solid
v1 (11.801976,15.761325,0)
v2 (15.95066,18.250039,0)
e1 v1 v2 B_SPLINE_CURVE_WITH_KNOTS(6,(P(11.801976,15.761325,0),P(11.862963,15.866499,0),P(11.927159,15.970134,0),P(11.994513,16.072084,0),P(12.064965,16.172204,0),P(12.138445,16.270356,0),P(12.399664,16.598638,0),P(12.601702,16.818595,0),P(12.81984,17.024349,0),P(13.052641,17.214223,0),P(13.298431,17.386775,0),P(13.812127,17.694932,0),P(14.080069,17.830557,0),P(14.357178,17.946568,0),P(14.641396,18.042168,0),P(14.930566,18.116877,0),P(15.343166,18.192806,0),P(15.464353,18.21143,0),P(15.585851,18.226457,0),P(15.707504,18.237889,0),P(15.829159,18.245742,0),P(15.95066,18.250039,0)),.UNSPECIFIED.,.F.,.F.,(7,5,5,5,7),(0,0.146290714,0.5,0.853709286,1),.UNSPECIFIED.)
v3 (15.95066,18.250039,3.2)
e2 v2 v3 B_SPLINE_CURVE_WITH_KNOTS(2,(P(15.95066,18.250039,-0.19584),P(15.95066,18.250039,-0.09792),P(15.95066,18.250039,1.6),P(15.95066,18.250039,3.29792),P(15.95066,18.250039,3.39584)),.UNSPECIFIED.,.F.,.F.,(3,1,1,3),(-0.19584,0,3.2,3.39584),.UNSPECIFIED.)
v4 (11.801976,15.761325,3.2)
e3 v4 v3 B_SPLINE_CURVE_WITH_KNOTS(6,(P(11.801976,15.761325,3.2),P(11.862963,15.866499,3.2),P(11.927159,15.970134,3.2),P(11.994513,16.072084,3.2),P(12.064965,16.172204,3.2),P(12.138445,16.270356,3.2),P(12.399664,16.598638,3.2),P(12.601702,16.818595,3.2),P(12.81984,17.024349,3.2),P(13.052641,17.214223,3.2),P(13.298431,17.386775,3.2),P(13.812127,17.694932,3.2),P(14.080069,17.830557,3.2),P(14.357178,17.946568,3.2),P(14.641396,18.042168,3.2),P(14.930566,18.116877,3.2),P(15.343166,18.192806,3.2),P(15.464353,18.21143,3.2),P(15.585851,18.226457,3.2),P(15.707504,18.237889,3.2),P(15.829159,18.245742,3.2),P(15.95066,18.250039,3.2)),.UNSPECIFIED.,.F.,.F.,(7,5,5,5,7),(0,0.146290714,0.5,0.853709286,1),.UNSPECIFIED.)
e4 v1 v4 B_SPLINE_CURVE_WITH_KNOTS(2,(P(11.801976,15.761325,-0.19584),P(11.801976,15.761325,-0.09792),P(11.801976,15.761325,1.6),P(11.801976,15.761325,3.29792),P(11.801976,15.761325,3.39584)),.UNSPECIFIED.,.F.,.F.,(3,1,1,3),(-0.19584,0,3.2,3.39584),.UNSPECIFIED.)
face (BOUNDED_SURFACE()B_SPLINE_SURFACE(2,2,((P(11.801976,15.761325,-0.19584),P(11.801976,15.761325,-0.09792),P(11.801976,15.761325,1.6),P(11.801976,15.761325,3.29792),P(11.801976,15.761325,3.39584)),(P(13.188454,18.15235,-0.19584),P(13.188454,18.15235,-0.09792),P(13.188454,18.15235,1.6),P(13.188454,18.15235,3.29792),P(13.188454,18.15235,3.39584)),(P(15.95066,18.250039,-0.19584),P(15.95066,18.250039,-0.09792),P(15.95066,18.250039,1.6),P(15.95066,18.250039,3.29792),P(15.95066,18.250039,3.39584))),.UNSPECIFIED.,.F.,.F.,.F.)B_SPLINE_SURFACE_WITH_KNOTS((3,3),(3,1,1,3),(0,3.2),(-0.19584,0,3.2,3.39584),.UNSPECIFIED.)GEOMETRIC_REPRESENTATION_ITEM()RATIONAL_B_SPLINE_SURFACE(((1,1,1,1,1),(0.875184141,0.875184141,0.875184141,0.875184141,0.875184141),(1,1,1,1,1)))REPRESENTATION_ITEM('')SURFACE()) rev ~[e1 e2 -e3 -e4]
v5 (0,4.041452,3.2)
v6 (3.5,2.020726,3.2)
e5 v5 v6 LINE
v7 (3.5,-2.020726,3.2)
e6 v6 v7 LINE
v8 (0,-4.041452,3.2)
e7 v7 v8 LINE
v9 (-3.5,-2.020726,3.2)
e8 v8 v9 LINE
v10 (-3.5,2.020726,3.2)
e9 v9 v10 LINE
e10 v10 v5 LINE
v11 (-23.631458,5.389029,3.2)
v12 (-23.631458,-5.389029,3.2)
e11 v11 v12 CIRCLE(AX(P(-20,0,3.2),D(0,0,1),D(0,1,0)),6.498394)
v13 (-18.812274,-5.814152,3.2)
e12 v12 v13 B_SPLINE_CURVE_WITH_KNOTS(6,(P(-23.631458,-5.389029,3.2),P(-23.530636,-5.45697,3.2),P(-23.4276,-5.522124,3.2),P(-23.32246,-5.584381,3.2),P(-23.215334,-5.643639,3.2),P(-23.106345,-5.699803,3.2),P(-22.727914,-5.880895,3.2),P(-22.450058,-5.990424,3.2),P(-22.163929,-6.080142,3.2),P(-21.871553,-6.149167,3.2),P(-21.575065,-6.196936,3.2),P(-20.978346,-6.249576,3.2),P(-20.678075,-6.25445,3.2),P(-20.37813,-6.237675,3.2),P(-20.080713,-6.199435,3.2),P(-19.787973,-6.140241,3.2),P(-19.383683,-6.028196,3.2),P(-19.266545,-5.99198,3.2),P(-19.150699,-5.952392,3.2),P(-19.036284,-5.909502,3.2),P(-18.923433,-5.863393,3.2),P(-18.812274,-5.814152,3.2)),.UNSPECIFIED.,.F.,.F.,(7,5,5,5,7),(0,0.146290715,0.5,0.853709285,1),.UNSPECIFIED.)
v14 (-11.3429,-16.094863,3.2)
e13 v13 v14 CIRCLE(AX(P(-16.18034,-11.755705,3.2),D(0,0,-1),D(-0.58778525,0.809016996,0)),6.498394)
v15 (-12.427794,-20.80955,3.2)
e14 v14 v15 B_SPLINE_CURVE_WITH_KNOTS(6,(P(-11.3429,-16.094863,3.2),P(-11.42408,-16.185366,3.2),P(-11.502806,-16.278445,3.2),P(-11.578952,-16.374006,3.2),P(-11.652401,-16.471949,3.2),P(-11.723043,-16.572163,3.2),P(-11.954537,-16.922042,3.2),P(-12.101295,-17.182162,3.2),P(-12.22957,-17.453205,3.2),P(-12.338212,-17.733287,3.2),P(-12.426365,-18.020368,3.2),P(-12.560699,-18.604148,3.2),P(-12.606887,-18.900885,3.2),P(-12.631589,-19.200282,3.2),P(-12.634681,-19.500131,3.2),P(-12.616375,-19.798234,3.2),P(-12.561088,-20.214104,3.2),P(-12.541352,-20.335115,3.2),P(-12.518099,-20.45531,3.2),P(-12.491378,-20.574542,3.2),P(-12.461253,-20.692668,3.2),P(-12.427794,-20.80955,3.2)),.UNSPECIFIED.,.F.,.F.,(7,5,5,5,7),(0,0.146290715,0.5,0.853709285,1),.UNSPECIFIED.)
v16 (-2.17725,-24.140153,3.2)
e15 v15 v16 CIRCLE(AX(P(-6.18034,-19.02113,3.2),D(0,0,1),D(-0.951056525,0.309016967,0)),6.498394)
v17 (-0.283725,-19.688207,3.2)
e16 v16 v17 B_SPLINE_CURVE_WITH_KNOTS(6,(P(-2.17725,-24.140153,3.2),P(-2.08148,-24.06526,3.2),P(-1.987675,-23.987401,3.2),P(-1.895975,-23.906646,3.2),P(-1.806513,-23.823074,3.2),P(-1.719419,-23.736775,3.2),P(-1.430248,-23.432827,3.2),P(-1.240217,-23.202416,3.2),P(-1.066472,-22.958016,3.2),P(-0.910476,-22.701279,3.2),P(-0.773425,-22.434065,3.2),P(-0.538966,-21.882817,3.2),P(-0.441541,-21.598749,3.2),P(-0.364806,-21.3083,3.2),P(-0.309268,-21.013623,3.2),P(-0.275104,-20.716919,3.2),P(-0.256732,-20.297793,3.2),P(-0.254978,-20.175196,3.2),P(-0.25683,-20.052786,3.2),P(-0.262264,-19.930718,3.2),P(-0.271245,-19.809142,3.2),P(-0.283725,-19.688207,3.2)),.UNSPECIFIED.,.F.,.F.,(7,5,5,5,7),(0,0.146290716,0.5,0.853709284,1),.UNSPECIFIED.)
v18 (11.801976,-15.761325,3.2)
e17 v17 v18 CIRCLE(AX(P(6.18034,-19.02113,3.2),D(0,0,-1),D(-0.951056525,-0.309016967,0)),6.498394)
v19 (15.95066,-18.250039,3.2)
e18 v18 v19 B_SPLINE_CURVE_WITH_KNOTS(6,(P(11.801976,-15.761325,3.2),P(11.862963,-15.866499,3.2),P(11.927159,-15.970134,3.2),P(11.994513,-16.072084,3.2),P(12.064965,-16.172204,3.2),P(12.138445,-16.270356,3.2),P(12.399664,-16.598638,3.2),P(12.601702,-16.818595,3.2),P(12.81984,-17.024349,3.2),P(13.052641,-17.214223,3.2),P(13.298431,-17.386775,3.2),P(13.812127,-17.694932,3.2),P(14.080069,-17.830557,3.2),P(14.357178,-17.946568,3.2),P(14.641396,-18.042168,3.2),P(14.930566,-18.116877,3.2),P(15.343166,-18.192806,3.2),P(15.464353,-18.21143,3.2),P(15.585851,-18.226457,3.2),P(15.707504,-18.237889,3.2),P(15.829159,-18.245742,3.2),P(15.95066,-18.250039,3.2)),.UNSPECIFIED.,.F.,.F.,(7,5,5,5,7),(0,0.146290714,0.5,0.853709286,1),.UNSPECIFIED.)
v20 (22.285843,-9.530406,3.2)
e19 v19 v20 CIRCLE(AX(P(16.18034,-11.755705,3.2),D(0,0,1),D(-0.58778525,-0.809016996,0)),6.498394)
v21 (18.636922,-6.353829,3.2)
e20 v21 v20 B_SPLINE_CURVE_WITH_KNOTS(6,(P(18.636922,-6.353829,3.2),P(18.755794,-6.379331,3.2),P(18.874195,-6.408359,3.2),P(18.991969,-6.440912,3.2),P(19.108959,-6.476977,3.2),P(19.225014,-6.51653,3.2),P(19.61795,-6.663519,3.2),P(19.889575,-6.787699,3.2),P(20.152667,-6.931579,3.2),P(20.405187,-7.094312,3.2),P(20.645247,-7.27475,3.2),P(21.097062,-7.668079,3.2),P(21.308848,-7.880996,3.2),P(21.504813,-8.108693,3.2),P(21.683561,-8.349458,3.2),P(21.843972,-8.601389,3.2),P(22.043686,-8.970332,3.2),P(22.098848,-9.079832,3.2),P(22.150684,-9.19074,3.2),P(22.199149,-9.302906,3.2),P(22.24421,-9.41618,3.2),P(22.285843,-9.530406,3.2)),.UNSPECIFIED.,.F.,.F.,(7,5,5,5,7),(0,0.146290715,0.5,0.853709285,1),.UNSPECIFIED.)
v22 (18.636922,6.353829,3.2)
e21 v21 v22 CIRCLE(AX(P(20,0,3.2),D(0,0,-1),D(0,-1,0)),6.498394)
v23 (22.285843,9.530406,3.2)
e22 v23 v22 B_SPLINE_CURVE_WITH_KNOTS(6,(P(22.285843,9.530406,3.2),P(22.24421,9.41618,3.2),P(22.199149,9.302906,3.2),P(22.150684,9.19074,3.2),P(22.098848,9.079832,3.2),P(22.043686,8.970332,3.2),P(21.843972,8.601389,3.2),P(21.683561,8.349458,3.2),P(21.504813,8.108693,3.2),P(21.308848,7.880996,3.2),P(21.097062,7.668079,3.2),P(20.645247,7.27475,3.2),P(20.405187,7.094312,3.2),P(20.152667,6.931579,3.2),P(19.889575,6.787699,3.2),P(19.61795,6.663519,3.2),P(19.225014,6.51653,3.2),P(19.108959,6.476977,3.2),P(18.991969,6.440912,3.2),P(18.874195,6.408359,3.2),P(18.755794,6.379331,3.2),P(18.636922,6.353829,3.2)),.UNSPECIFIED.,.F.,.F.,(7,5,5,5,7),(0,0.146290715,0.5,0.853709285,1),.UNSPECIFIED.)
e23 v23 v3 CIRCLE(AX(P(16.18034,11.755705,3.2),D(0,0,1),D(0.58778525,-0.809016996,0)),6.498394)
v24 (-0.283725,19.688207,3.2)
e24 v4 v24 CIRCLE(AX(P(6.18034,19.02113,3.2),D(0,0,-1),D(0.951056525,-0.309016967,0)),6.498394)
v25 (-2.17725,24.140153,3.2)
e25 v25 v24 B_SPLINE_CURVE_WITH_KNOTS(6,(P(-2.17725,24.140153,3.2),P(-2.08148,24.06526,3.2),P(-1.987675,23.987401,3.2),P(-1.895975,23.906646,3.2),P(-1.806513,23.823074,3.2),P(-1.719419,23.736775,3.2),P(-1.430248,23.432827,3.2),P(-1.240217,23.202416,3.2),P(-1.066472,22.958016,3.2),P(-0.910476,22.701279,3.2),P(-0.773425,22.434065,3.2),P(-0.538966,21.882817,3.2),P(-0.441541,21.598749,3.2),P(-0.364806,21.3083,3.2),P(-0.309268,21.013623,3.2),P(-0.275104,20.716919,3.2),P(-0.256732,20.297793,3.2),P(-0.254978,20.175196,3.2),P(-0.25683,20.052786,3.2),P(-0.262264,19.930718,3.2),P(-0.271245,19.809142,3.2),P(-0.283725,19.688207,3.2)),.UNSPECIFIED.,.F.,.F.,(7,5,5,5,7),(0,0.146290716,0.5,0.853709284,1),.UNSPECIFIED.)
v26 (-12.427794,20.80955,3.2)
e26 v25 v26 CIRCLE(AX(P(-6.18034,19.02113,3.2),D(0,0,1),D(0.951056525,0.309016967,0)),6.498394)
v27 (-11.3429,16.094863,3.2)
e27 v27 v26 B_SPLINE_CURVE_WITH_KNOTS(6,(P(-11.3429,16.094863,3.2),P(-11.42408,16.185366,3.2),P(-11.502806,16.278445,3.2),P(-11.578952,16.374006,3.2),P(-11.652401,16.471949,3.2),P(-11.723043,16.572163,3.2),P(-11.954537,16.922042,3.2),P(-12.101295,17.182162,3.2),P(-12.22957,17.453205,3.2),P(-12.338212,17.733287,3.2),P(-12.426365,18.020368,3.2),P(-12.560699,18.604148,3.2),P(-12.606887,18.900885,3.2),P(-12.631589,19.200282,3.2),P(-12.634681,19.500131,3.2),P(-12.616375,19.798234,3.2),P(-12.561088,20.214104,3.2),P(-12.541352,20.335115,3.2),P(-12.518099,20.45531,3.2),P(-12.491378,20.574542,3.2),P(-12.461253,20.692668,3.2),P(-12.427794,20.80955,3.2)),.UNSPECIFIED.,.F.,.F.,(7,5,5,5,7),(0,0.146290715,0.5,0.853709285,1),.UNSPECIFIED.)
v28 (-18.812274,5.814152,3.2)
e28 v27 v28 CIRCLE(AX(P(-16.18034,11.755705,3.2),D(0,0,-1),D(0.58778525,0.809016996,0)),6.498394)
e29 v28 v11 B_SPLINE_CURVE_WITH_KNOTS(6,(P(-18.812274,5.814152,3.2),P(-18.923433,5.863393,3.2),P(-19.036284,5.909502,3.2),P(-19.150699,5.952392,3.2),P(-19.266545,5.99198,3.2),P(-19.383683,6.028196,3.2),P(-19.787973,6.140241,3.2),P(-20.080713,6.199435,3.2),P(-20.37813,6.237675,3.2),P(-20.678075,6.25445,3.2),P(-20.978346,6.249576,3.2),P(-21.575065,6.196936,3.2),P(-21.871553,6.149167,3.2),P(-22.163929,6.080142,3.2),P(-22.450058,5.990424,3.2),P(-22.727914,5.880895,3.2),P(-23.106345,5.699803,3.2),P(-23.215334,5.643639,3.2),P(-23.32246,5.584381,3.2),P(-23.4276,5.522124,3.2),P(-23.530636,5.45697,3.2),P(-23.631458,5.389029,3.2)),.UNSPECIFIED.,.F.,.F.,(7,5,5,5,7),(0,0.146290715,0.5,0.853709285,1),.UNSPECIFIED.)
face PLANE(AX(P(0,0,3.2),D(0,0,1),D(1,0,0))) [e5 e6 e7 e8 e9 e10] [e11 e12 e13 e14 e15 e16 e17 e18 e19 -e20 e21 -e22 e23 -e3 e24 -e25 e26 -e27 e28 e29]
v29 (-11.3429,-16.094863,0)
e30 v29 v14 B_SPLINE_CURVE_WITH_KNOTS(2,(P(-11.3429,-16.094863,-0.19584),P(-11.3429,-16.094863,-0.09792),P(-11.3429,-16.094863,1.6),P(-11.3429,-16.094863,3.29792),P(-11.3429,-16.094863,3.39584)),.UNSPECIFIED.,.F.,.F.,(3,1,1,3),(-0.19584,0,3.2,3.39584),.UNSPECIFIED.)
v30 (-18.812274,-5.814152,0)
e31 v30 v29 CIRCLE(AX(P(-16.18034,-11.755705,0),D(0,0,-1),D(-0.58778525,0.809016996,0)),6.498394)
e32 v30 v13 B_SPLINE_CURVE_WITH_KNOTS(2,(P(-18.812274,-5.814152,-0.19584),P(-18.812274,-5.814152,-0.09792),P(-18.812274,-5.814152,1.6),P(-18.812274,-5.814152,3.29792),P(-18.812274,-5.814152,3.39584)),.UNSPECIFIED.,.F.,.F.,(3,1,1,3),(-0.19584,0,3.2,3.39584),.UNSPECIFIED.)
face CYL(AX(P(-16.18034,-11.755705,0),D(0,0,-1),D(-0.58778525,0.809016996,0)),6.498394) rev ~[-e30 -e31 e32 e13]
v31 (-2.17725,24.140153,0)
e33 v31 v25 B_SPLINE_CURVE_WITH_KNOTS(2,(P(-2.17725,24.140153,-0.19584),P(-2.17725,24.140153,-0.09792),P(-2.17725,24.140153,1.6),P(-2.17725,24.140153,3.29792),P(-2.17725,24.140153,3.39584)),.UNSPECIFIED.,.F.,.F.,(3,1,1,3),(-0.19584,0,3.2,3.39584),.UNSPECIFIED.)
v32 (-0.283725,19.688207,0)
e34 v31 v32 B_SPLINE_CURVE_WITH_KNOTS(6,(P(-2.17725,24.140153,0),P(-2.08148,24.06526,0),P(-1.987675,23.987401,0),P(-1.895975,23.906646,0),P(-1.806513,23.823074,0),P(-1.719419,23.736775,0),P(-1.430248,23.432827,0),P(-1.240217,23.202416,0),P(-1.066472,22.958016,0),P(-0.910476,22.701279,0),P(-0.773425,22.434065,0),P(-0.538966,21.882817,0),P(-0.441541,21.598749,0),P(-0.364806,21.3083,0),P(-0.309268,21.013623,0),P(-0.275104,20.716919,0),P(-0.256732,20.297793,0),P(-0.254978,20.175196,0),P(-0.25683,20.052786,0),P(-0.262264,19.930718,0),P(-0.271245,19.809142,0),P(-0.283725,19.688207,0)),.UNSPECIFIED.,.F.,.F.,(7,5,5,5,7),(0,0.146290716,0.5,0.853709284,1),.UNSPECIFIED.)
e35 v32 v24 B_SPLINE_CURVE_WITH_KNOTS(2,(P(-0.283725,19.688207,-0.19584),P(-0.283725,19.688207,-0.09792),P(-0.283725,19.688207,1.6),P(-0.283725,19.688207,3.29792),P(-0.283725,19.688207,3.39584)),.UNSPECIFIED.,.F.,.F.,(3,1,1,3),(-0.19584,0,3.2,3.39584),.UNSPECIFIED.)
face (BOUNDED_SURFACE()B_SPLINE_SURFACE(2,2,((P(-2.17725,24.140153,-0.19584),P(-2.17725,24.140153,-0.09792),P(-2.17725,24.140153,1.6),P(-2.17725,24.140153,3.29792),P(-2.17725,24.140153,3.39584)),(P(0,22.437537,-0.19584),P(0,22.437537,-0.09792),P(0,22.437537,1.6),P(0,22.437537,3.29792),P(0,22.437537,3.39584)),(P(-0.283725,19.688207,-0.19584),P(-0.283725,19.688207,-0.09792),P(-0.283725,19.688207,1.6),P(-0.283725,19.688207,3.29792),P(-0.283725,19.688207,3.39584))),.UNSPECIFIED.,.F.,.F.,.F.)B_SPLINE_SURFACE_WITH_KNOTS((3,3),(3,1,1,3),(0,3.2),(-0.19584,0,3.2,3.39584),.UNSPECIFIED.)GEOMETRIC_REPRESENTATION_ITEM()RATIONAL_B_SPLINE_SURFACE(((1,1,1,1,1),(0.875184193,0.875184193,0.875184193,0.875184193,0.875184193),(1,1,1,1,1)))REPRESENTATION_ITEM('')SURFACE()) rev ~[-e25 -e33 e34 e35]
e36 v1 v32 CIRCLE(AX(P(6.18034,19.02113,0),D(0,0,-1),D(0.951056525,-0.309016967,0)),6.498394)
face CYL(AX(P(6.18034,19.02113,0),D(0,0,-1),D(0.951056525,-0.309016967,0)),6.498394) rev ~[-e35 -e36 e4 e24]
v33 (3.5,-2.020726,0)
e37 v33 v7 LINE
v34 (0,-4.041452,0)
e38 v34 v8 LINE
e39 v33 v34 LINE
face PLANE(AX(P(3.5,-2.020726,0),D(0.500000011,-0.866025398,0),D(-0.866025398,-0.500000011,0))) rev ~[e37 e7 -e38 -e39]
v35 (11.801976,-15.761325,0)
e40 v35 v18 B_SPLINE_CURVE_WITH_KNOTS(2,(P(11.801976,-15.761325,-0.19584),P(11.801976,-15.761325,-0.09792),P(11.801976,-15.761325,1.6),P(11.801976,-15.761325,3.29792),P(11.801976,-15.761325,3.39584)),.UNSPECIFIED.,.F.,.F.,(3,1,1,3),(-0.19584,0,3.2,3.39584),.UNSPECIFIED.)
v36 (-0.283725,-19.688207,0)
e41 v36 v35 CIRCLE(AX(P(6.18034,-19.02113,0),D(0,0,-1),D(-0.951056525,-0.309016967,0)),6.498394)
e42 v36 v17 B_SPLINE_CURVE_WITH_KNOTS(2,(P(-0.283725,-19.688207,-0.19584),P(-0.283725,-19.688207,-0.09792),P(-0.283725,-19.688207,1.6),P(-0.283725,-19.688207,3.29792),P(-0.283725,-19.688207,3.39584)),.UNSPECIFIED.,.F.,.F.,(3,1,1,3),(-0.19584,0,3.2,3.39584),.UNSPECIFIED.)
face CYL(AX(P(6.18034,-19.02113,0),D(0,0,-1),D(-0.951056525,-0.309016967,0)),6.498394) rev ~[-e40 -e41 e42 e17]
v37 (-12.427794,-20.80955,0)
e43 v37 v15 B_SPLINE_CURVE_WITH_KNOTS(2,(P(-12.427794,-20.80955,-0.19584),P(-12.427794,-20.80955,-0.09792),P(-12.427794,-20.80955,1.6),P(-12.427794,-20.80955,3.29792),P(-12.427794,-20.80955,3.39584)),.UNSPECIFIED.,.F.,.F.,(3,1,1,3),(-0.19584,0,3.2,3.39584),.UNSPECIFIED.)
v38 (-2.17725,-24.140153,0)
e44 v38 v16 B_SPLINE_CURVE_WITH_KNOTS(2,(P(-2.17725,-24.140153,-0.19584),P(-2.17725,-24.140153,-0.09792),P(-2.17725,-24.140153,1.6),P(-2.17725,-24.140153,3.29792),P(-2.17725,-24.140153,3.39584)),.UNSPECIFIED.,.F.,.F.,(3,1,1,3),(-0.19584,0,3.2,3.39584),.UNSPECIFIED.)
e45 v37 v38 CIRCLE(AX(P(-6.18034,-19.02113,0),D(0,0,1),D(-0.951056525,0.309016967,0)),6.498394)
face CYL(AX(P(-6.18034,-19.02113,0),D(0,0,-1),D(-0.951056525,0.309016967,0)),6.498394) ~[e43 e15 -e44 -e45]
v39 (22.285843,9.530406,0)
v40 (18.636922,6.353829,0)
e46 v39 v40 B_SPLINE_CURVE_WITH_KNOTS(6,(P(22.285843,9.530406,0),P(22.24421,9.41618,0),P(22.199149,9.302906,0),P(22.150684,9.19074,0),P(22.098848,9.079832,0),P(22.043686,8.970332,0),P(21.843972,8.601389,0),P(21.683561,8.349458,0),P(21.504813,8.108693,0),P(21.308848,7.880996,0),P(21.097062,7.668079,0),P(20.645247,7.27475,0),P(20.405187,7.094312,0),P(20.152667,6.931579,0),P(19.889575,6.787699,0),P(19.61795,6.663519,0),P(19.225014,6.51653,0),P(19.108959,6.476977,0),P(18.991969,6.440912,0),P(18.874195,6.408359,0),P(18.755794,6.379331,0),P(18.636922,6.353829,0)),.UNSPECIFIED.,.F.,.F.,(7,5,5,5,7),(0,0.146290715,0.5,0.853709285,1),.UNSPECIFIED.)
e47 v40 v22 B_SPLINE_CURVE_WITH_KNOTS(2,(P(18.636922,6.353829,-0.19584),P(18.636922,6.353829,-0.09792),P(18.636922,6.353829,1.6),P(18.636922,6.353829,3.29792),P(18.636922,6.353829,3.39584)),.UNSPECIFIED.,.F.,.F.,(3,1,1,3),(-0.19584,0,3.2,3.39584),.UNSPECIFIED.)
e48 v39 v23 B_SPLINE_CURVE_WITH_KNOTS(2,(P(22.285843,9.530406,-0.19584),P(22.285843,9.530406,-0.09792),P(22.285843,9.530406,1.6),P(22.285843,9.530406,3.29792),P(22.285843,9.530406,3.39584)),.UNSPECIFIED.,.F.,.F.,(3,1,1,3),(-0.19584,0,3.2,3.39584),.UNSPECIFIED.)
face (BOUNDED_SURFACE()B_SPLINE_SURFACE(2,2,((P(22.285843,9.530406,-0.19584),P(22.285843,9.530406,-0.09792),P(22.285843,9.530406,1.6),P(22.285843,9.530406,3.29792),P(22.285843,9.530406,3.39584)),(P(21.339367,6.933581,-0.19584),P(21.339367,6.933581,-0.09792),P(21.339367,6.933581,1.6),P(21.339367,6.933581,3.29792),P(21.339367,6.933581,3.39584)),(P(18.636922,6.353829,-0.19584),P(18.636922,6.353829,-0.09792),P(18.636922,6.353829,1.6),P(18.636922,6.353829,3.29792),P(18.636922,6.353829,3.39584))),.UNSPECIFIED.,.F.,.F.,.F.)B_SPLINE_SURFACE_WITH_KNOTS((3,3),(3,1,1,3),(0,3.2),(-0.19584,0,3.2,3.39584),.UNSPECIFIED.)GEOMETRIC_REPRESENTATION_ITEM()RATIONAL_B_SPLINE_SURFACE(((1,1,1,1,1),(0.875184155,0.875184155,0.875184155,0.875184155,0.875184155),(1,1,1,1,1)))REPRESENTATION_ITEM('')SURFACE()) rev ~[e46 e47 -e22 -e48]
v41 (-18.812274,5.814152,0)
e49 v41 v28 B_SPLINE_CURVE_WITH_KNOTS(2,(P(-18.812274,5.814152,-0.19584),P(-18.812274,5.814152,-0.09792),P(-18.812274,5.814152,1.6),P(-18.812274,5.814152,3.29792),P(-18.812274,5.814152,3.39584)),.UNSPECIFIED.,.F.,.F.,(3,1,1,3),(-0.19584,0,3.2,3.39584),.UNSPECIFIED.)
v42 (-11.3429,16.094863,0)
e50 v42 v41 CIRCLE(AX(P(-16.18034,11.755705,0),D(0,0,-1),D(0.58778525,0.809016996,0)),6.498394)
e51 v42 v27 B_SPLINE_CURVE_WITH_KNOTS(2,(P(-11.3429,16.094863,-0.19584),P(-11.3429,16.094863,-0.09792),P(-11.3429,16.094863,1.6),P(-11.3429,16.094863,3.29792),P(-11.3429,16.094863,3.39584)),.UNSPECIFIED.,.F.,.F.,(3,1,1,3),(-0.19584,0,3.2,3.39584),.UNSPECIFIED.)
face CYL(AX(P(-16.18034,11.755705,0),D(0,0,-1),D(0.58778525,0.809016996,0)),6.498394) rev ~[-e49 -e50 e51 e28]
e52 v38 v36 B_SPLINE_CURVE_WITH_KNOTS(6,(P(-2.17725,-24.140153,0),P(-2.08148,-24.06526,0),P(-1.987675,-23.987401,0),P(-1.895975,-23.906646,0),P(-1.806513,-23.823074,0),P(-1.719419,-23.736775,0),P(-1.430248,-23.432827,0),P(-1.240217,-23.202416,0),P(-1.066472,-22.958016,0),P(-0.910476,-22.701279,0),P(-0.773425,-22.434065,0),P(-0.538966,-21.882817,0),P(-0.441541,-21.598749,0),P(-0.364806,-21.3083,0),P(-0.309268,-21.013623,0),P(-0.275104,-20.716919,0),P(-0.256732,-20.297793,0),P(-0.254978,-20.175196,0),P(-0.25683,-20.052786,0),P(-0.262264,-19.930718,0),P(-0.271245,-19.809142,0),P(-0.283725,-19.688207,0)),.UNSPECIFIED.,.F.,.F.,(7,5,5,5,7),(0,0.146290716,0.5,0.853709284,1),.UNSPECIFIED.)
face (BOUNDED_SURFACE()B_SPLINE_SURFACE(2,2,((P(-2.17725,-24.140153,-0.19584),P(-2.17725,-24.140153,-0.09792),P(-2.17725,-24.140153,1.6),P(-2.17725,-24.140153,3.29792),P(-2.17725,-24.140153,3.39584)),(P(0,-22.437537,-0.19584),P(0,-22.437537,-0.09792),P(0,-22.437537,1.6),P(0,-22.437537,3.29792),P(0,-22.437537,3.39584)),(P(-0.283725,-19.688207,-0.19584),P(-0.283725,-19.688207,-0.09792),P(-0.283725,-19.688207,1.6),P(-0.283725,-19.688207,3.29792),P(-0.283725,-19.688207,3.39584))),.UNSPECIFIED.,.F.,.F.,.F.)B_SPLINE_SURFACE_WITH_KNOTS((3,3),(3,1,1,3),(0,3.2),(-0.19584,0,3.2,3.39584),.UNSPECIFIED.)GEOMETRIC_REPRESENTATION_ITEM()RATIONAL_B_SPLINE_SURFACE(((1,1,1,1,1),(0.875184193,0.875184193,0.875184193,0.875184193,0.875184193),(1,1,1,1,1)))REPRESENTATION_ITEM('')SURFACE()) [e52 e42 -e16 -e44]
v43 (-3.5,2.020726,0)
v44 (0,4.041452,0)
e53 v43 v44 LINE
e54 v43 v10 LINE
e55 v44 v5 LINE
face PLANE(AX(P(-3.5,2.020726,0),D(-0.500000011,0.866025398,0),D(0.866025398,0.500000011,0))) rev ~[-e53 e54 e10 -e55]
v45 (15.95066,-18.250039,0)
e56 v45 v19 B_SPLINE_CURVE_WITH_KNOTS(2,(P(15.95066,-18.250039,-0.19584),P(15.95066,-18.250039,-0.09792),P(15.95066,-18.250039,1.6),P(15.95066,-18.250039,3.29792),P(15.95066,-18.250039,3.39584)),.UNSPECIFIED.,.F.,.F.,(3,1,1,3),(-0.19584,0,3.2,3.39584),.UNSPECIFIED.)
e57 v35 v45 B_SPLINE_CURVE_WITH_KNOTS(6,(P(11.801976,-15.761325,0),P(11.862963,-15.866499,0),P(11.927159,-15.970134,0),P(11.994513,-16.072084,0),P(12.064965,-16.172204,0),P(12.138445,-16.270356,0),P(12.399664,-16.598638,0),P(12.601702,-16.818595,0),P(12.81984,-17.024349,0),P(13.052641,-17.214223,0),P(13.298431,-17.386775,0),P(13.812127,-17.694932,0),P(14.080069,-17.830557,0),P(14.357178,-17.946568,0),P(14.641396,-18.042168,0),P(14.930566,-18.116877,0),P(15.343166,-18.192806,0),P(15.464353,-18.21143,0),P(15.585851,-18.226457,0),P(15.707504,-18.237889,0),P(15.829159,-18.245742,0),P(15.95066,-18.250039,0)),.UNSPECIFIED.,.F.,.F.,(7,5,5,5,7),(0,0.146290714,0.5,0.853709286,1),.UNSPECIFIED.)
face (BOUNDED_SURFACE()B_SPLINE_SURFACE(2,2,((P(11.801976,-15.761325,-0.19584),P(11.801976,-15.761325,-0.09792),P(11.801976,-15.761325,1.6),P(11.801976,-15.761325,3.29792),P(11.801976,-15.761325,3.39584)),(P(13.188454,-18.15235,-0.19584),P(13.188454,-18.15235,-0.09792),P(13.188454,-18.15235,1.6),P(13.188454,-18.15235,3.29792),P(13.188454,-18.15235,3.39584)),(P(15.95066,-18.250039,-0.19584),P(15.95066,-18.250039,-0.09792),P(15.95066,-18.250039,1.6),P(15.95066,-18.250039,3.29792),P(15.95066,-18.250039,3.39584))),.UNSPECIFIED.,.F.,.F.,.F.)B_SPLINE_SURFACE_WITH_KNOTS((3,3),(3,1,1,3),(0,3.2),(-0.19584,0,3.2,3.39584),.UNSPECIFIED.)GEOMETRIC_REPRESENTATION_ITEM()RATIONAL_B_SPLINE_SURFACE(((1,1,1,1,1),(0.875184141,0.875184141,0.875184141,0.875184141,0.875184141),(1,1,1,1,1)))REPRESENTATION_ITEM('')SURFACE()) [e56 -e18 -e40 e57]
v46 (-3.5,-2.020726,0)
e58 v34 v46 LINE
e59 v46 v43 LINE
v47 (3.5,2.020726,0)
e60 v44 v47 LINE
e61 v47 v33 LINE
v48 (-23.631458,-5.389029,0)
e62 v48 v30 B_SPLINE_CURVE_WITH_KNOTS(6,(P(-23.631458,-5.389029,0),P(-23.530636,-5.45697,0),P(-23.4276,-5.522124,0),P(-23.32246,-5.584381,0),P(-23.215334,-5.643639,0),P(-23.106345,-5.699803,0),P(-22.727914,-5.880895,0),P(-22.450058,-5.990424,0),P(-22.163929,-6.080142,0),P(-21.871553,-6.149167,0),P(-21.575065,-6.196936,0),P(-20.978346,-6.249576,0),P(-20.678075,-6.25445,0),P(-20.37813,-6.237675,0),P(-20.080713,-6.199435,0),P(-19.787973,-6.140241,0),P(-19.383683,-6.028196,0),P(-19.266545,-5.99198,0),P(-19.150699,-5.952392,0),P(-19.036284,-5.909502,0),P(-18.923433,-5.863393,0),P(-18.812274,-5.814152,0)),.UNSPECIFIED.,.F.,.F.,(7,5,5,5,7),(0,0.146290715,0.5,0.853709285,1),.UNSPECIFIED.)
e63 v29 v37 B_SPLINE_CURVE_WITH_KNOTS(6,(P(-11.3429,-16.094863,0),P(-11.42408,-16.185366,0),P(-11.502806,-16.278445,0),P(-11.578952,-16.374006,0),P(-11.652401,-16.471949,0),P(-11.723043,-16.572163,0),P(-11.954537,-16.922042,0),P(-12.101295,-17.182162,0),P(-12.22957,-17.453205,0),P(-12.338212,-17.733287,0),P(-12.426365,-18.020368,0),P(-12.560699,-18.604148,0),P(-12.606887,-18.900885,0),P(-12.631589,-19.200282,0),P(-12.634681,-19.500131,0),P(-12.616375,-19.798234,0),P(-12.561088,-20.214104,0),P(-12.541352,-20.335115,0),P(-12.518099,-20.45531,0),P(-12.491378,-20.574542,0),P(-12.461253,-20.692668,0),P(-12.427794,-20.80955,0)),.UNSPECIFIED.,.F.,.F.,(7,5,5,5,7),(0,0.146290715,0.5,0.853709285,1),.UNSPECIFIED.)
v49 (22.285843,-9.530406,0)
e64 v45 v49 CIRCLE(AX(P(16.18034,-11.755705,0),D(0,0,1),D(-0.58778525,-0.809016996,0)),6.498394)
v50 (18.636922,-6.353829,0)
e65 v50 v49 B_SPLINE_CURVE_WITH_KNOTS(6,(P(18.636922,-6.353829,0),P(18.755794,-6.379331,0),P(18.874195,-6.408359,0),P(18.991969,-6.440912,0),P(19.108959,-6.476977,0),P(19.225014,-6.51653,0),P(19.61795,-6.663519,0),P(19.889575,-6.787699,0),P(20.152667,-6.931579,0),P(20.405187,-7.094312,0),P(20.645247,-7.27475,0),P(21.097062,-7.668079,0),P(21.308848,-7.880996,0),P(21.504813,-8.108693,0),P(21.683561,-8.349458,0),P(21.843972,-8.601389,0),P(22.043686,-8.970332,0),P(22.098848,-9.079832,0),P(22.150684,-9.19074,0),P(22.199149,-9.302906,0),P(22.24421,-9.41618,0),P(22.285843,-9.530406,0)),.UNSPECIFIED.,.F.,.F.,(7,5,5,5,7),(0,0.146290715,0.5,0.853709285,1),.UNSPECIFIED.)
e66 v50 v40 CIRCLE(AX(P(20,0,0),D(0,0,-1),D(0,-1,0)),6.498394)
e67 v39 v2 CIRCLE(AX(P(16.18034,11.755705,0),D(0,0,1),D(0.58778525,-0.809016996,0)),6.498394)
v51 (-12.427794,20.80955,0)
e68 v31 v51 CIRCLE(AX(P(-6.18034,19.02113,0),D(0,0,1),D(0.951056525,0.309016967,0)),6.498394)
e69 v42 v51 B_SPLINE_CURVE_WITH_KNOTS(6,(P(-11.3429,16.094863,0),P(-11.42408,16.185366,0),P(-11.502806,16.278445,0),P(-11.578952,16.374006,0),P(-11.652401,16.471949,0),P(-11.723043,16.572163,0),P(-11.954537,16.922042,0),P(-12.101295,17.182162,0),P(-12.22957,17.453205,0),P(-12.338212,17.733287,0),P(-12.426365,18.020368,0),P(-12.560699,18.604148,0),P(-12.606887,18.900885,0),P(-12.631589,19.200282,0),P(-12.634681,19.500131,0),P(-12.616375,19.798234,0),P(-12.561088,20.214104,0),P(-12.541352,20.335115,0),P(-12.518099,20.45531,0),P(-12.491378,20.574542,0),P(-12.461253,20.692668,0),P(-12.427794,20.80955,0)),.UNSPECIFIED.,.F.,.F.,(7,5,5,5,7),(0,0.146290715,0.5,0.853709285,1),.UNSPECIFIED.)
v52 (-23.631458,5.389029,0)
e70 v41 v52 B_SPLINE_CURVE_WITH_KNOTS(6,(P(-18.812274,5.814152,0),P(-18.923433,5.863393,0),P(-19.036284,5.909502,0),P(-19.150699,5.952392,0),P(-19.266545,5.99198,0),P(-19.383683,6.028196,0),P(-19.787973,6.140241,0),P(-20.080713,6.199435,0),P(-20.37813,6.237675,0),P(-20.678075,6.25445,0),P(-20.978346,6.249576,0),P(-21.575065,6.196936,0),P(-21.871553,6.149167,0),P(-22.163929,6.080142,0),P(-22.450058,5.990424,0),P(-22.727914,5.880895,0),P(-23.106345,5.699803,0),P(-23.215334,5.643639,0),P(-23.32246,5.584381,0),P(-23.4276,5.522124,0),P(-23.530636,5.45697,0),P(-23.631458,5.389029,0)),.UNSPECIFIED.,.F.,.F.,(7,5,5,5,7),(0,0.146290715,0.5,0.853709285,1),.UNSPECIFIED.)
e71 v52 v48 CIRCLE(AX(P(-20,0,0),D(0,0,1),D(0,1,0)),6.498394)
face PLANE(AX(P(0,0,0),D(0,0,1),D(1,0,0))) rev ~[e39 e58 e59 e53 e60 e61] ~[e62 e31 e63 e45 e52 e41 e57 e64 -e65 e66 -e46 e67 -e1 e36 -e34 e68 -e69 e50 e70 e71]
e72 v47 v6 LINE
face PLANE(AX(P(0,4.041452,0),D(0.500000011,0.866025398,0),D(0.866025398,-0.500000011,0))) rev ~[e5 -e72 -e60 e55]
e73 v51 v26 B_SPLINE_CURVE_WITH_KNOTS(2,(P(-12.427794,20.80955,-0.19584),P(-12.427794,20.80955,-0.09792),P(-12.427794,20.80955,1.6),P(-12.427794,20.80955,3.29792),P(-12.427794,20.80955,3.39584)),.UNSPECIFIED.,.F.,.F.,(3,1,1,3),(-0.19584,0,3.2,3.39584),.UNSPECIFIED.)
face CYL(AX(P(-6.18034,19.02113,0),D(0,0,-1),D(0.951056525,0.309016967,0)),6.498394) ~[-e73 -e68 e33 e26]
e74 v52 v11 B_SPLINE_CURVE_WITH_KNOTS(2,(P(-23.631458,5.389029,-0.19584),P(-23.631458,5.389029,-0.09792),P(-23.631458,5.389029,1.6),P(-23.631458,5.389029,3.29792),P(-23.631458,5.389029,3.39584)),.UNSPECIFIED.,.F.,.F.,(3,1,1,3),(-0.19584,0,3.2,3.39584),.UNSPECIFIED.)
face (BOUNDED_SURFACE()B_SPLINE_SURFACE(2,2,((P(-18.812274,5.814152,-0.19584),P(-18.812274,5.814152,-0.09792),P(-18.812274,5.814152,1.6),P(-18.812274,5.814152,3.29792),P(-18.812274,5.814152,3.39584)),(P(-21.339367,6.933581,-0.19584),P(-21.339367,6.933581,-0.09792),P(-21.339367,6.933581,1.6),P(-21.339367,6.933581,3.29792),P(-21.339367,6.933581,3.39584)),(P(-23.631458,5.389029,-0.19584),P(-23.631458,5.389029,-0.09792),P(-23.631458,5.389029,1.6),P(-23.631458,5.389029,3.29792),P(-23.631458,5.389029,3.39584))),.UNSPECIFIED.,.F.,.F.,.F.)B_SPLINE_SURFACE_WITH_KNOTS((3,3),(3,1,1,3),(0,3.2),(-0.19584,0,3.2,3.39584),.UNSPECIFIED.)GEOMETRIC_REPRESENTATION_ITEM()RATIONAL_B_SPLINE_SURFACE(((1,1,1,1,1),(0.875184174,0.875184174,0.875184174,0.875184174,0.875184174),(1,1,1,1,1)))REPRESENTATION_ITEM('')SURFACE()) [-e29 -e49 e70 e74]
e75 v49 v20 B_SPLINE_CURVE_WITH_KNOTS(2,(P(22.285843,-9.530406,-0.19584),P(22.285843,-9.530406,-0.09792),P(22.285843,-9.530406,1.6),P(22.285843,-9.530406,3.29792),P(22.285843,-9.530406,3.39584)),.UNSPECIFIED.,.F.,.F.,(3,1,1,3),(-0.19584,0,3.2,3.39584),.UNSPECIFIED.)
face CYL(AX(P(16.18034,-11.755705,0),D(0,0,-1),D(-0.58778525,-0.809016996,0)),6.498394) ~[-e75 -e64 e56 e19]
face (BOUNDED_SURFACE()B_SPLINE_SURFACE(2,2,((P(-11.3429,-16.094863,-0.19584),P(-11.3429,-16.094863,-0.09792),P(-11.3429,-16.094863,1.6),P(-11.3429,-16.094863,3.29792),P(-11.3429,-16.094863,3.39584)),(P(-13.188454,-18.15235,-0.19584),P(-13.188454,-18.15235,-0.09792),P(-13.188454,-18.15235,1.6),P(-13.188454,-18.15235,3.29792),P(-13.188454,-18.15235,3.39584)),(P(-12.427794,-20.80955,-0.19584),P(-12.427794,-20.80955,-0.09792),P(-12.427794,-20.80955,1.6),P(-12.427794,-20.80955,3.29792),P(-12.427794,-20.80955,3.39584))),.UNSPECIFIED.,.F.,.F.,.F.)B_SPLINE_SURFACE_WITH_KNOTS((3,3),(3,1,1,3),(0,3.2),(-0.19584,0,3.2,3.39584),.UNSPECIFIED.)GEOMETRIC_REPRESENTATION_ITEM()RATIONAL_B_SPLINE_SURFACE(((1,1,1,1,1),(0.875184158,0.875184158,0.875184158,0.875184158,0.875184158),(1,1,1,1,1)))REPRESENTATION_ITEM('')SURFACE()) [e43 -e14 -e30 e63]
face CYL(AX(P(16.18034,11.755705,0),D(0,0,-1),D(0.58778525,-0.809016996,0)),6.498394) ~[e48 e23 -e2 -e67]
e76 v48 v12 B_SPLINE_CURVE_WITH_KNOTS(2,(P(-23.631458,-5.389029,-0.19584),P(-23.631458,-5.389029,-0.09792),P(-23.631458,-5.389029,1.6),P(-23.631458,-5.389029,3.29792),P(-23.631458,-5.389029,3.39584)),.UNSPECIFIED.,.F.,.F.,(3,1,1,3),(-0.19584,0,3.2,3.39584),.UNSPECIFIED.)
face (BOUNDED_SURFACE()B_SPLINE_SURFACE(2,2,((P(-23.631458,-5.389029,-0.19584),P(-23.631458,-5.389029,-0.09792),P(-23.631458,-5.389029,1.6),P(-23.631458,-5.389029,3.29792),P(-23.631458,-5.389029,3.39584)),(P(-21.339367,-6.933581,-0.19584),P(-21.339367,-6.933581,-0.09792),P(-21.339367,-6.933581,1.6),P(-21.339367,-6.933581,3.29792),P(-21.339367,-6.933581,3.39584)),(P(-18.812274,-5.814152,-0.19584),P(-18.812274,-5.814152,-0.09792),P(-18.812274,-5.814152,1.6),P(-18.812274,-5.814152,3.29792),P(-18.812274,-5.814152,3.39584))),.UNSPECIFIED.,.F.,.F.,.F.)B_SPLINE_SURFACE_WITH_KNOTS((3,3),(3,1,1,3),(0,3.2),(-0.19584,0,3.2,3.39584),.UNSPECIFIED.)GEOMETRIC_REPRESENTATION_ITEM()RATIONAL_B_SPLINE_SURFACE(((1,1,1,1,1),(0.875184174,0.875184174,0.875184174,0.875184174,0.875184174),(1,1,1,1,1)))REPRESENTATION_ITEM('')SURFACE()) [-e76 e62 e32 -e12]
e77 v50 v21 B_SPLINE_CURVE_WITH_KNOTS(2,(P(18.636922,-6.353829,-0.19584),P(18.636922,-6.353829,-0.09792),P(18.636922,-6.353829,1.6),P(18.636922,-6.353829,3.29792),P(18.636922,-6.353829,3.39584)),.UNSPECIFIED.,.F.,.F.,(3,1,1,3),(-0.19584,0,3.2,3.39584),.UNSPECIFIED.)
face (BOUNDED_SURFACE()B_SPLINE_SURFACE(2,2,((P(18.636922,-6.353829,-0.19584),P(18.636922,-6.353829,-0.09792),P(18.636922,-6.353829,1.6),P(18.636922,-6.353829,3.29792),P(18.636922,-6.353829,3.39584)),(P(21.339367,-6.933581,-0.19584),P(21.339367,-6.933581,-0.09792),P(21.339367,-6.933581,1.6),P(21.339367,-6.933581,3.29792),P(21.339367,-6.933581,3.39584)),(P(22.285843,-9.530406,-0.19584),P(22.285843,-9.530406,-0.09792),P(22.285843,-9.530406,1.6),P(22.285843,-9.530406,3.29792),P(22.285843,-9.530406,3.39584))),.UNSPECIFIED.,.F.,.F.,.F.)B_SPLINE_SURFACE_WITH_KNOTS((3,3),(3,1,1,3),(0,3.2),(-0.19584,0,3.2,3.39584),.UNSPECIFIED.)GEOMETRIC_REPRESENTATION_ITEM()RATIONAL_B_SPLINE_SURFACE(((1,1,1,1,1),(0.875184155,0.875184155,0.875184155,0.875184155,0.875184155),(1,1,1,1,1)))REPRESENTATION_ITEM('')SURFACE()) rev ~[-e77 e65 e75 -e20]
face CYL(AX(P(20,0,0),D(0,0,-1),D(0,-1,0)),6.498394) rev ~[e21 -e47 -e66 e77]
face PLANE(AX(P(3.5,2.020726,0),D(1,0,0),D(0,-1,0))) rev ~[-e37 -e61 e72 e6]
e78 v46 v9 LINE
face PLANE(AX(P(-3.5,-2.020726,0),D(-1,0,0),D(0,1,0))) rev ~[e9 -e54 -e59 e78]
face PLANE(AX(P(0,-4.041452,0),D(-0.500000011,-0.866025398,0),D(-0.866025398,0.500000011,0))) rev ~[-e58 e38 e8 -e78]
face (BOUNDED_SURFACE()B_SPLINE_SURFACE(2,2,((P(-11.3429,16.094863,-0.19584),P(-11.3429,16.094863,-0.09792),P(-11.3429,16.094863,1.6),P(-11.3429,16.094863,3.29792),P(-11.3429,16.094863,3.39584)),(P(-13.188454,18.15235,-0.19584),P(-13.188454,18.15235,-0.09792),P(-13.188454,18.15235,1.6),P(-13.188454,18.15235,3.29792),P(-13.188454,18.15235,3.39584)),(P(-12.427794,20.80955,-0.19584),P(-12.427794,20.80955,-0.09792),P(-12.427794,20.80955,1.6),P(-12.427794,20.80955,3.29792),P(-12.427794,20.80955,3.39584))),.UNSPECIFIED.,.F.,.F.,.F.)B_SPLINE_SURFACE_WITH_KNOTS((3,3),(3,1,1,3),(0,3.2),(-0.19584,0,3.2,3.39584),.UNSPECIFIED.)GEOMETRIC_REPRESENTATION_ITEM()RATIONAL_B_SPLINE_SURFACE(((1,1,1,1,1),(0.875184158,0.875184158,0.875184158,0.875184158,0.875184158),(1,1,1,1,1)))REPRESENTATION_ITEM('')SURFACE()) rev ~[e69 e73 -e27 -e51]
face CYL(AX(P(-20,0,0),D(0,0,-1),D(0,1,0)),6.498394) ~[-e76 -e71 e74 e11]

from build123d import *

# Parameters (mm, degrees)
F1_DEPTH = 3.2
F2_R     = 5


with BuildPart() as f1:
    # F0 (on Top) → F1 (new body)
    with BuildSketch(Plane.XY):
        with BuildLine():
            ThreePointArc((-12.36068, 17.013016), (-10.923029, 7.936045), (-20, 6.498394))
            ThreePointArc((-20, 6.498394), (-26.498394, 0), (-20, -6.498394))
            ThreePointArc((-20, -6.498394), (-10.923029, -7.936045), (-12.36068, -17.013016))
            ThreePointArc((-12.36068, -17.013016), (-8.188454, -25.20147), (0, -21.029244))
            ThreePointArc((0, -21.029244), (4.172226, -12.84079), (12.36068, -17.013016))
            ThreePointArc((12.36068, -17.013016), (21.437651, -15.575365), (20, -6.498394))
            ThreePointArc((20, -6.498394), (13.501606, 0), (20, 6.498394))
            ThreePointArc((20, 6.498394), (21.437651, 15.575365), (12.36068, 17.013016))
            ThreePointArc((12.36068, 17.013016), (4.172226, 12.84079), (0, 21.029244))
            ThreePointArc((0, 21.029244), (-8.188454, 25.20147), (-12.36068, 17.013016))
        make_face()
        Polygon((0, 4.041452), (3.5, 2.020726), (3.5, -2.020726), (0, -4.041452), (-3.5, -2.020726), (-3.5, 2.020726), align=None, mode=Mode.SUBTRACT)
    extrude(amount=F1_DEPTH)

    # F2
    f2_edges = [f1.edges().sort_by_distance(p)[0] for p in [
        (-12.36068, 17.013016, 1.6),
        (-20, 6.498394, 1.6),
        (0, 21.029244, 1.6),
        (12.36068, 17.013016, 1.6),
        (20, 6.498394, 1.6),
        (20, -6.498394, 1.6),
        (12.36068, -17.013016, 1.6),
        (0, -21.029244, 1.6),
        (-12.36068, -17.013016, 1.6),
        (-20, -6.498394, 1.6),
    ]]
    fillet(f2_edges, radius=F2_R)


solid = f1.part
